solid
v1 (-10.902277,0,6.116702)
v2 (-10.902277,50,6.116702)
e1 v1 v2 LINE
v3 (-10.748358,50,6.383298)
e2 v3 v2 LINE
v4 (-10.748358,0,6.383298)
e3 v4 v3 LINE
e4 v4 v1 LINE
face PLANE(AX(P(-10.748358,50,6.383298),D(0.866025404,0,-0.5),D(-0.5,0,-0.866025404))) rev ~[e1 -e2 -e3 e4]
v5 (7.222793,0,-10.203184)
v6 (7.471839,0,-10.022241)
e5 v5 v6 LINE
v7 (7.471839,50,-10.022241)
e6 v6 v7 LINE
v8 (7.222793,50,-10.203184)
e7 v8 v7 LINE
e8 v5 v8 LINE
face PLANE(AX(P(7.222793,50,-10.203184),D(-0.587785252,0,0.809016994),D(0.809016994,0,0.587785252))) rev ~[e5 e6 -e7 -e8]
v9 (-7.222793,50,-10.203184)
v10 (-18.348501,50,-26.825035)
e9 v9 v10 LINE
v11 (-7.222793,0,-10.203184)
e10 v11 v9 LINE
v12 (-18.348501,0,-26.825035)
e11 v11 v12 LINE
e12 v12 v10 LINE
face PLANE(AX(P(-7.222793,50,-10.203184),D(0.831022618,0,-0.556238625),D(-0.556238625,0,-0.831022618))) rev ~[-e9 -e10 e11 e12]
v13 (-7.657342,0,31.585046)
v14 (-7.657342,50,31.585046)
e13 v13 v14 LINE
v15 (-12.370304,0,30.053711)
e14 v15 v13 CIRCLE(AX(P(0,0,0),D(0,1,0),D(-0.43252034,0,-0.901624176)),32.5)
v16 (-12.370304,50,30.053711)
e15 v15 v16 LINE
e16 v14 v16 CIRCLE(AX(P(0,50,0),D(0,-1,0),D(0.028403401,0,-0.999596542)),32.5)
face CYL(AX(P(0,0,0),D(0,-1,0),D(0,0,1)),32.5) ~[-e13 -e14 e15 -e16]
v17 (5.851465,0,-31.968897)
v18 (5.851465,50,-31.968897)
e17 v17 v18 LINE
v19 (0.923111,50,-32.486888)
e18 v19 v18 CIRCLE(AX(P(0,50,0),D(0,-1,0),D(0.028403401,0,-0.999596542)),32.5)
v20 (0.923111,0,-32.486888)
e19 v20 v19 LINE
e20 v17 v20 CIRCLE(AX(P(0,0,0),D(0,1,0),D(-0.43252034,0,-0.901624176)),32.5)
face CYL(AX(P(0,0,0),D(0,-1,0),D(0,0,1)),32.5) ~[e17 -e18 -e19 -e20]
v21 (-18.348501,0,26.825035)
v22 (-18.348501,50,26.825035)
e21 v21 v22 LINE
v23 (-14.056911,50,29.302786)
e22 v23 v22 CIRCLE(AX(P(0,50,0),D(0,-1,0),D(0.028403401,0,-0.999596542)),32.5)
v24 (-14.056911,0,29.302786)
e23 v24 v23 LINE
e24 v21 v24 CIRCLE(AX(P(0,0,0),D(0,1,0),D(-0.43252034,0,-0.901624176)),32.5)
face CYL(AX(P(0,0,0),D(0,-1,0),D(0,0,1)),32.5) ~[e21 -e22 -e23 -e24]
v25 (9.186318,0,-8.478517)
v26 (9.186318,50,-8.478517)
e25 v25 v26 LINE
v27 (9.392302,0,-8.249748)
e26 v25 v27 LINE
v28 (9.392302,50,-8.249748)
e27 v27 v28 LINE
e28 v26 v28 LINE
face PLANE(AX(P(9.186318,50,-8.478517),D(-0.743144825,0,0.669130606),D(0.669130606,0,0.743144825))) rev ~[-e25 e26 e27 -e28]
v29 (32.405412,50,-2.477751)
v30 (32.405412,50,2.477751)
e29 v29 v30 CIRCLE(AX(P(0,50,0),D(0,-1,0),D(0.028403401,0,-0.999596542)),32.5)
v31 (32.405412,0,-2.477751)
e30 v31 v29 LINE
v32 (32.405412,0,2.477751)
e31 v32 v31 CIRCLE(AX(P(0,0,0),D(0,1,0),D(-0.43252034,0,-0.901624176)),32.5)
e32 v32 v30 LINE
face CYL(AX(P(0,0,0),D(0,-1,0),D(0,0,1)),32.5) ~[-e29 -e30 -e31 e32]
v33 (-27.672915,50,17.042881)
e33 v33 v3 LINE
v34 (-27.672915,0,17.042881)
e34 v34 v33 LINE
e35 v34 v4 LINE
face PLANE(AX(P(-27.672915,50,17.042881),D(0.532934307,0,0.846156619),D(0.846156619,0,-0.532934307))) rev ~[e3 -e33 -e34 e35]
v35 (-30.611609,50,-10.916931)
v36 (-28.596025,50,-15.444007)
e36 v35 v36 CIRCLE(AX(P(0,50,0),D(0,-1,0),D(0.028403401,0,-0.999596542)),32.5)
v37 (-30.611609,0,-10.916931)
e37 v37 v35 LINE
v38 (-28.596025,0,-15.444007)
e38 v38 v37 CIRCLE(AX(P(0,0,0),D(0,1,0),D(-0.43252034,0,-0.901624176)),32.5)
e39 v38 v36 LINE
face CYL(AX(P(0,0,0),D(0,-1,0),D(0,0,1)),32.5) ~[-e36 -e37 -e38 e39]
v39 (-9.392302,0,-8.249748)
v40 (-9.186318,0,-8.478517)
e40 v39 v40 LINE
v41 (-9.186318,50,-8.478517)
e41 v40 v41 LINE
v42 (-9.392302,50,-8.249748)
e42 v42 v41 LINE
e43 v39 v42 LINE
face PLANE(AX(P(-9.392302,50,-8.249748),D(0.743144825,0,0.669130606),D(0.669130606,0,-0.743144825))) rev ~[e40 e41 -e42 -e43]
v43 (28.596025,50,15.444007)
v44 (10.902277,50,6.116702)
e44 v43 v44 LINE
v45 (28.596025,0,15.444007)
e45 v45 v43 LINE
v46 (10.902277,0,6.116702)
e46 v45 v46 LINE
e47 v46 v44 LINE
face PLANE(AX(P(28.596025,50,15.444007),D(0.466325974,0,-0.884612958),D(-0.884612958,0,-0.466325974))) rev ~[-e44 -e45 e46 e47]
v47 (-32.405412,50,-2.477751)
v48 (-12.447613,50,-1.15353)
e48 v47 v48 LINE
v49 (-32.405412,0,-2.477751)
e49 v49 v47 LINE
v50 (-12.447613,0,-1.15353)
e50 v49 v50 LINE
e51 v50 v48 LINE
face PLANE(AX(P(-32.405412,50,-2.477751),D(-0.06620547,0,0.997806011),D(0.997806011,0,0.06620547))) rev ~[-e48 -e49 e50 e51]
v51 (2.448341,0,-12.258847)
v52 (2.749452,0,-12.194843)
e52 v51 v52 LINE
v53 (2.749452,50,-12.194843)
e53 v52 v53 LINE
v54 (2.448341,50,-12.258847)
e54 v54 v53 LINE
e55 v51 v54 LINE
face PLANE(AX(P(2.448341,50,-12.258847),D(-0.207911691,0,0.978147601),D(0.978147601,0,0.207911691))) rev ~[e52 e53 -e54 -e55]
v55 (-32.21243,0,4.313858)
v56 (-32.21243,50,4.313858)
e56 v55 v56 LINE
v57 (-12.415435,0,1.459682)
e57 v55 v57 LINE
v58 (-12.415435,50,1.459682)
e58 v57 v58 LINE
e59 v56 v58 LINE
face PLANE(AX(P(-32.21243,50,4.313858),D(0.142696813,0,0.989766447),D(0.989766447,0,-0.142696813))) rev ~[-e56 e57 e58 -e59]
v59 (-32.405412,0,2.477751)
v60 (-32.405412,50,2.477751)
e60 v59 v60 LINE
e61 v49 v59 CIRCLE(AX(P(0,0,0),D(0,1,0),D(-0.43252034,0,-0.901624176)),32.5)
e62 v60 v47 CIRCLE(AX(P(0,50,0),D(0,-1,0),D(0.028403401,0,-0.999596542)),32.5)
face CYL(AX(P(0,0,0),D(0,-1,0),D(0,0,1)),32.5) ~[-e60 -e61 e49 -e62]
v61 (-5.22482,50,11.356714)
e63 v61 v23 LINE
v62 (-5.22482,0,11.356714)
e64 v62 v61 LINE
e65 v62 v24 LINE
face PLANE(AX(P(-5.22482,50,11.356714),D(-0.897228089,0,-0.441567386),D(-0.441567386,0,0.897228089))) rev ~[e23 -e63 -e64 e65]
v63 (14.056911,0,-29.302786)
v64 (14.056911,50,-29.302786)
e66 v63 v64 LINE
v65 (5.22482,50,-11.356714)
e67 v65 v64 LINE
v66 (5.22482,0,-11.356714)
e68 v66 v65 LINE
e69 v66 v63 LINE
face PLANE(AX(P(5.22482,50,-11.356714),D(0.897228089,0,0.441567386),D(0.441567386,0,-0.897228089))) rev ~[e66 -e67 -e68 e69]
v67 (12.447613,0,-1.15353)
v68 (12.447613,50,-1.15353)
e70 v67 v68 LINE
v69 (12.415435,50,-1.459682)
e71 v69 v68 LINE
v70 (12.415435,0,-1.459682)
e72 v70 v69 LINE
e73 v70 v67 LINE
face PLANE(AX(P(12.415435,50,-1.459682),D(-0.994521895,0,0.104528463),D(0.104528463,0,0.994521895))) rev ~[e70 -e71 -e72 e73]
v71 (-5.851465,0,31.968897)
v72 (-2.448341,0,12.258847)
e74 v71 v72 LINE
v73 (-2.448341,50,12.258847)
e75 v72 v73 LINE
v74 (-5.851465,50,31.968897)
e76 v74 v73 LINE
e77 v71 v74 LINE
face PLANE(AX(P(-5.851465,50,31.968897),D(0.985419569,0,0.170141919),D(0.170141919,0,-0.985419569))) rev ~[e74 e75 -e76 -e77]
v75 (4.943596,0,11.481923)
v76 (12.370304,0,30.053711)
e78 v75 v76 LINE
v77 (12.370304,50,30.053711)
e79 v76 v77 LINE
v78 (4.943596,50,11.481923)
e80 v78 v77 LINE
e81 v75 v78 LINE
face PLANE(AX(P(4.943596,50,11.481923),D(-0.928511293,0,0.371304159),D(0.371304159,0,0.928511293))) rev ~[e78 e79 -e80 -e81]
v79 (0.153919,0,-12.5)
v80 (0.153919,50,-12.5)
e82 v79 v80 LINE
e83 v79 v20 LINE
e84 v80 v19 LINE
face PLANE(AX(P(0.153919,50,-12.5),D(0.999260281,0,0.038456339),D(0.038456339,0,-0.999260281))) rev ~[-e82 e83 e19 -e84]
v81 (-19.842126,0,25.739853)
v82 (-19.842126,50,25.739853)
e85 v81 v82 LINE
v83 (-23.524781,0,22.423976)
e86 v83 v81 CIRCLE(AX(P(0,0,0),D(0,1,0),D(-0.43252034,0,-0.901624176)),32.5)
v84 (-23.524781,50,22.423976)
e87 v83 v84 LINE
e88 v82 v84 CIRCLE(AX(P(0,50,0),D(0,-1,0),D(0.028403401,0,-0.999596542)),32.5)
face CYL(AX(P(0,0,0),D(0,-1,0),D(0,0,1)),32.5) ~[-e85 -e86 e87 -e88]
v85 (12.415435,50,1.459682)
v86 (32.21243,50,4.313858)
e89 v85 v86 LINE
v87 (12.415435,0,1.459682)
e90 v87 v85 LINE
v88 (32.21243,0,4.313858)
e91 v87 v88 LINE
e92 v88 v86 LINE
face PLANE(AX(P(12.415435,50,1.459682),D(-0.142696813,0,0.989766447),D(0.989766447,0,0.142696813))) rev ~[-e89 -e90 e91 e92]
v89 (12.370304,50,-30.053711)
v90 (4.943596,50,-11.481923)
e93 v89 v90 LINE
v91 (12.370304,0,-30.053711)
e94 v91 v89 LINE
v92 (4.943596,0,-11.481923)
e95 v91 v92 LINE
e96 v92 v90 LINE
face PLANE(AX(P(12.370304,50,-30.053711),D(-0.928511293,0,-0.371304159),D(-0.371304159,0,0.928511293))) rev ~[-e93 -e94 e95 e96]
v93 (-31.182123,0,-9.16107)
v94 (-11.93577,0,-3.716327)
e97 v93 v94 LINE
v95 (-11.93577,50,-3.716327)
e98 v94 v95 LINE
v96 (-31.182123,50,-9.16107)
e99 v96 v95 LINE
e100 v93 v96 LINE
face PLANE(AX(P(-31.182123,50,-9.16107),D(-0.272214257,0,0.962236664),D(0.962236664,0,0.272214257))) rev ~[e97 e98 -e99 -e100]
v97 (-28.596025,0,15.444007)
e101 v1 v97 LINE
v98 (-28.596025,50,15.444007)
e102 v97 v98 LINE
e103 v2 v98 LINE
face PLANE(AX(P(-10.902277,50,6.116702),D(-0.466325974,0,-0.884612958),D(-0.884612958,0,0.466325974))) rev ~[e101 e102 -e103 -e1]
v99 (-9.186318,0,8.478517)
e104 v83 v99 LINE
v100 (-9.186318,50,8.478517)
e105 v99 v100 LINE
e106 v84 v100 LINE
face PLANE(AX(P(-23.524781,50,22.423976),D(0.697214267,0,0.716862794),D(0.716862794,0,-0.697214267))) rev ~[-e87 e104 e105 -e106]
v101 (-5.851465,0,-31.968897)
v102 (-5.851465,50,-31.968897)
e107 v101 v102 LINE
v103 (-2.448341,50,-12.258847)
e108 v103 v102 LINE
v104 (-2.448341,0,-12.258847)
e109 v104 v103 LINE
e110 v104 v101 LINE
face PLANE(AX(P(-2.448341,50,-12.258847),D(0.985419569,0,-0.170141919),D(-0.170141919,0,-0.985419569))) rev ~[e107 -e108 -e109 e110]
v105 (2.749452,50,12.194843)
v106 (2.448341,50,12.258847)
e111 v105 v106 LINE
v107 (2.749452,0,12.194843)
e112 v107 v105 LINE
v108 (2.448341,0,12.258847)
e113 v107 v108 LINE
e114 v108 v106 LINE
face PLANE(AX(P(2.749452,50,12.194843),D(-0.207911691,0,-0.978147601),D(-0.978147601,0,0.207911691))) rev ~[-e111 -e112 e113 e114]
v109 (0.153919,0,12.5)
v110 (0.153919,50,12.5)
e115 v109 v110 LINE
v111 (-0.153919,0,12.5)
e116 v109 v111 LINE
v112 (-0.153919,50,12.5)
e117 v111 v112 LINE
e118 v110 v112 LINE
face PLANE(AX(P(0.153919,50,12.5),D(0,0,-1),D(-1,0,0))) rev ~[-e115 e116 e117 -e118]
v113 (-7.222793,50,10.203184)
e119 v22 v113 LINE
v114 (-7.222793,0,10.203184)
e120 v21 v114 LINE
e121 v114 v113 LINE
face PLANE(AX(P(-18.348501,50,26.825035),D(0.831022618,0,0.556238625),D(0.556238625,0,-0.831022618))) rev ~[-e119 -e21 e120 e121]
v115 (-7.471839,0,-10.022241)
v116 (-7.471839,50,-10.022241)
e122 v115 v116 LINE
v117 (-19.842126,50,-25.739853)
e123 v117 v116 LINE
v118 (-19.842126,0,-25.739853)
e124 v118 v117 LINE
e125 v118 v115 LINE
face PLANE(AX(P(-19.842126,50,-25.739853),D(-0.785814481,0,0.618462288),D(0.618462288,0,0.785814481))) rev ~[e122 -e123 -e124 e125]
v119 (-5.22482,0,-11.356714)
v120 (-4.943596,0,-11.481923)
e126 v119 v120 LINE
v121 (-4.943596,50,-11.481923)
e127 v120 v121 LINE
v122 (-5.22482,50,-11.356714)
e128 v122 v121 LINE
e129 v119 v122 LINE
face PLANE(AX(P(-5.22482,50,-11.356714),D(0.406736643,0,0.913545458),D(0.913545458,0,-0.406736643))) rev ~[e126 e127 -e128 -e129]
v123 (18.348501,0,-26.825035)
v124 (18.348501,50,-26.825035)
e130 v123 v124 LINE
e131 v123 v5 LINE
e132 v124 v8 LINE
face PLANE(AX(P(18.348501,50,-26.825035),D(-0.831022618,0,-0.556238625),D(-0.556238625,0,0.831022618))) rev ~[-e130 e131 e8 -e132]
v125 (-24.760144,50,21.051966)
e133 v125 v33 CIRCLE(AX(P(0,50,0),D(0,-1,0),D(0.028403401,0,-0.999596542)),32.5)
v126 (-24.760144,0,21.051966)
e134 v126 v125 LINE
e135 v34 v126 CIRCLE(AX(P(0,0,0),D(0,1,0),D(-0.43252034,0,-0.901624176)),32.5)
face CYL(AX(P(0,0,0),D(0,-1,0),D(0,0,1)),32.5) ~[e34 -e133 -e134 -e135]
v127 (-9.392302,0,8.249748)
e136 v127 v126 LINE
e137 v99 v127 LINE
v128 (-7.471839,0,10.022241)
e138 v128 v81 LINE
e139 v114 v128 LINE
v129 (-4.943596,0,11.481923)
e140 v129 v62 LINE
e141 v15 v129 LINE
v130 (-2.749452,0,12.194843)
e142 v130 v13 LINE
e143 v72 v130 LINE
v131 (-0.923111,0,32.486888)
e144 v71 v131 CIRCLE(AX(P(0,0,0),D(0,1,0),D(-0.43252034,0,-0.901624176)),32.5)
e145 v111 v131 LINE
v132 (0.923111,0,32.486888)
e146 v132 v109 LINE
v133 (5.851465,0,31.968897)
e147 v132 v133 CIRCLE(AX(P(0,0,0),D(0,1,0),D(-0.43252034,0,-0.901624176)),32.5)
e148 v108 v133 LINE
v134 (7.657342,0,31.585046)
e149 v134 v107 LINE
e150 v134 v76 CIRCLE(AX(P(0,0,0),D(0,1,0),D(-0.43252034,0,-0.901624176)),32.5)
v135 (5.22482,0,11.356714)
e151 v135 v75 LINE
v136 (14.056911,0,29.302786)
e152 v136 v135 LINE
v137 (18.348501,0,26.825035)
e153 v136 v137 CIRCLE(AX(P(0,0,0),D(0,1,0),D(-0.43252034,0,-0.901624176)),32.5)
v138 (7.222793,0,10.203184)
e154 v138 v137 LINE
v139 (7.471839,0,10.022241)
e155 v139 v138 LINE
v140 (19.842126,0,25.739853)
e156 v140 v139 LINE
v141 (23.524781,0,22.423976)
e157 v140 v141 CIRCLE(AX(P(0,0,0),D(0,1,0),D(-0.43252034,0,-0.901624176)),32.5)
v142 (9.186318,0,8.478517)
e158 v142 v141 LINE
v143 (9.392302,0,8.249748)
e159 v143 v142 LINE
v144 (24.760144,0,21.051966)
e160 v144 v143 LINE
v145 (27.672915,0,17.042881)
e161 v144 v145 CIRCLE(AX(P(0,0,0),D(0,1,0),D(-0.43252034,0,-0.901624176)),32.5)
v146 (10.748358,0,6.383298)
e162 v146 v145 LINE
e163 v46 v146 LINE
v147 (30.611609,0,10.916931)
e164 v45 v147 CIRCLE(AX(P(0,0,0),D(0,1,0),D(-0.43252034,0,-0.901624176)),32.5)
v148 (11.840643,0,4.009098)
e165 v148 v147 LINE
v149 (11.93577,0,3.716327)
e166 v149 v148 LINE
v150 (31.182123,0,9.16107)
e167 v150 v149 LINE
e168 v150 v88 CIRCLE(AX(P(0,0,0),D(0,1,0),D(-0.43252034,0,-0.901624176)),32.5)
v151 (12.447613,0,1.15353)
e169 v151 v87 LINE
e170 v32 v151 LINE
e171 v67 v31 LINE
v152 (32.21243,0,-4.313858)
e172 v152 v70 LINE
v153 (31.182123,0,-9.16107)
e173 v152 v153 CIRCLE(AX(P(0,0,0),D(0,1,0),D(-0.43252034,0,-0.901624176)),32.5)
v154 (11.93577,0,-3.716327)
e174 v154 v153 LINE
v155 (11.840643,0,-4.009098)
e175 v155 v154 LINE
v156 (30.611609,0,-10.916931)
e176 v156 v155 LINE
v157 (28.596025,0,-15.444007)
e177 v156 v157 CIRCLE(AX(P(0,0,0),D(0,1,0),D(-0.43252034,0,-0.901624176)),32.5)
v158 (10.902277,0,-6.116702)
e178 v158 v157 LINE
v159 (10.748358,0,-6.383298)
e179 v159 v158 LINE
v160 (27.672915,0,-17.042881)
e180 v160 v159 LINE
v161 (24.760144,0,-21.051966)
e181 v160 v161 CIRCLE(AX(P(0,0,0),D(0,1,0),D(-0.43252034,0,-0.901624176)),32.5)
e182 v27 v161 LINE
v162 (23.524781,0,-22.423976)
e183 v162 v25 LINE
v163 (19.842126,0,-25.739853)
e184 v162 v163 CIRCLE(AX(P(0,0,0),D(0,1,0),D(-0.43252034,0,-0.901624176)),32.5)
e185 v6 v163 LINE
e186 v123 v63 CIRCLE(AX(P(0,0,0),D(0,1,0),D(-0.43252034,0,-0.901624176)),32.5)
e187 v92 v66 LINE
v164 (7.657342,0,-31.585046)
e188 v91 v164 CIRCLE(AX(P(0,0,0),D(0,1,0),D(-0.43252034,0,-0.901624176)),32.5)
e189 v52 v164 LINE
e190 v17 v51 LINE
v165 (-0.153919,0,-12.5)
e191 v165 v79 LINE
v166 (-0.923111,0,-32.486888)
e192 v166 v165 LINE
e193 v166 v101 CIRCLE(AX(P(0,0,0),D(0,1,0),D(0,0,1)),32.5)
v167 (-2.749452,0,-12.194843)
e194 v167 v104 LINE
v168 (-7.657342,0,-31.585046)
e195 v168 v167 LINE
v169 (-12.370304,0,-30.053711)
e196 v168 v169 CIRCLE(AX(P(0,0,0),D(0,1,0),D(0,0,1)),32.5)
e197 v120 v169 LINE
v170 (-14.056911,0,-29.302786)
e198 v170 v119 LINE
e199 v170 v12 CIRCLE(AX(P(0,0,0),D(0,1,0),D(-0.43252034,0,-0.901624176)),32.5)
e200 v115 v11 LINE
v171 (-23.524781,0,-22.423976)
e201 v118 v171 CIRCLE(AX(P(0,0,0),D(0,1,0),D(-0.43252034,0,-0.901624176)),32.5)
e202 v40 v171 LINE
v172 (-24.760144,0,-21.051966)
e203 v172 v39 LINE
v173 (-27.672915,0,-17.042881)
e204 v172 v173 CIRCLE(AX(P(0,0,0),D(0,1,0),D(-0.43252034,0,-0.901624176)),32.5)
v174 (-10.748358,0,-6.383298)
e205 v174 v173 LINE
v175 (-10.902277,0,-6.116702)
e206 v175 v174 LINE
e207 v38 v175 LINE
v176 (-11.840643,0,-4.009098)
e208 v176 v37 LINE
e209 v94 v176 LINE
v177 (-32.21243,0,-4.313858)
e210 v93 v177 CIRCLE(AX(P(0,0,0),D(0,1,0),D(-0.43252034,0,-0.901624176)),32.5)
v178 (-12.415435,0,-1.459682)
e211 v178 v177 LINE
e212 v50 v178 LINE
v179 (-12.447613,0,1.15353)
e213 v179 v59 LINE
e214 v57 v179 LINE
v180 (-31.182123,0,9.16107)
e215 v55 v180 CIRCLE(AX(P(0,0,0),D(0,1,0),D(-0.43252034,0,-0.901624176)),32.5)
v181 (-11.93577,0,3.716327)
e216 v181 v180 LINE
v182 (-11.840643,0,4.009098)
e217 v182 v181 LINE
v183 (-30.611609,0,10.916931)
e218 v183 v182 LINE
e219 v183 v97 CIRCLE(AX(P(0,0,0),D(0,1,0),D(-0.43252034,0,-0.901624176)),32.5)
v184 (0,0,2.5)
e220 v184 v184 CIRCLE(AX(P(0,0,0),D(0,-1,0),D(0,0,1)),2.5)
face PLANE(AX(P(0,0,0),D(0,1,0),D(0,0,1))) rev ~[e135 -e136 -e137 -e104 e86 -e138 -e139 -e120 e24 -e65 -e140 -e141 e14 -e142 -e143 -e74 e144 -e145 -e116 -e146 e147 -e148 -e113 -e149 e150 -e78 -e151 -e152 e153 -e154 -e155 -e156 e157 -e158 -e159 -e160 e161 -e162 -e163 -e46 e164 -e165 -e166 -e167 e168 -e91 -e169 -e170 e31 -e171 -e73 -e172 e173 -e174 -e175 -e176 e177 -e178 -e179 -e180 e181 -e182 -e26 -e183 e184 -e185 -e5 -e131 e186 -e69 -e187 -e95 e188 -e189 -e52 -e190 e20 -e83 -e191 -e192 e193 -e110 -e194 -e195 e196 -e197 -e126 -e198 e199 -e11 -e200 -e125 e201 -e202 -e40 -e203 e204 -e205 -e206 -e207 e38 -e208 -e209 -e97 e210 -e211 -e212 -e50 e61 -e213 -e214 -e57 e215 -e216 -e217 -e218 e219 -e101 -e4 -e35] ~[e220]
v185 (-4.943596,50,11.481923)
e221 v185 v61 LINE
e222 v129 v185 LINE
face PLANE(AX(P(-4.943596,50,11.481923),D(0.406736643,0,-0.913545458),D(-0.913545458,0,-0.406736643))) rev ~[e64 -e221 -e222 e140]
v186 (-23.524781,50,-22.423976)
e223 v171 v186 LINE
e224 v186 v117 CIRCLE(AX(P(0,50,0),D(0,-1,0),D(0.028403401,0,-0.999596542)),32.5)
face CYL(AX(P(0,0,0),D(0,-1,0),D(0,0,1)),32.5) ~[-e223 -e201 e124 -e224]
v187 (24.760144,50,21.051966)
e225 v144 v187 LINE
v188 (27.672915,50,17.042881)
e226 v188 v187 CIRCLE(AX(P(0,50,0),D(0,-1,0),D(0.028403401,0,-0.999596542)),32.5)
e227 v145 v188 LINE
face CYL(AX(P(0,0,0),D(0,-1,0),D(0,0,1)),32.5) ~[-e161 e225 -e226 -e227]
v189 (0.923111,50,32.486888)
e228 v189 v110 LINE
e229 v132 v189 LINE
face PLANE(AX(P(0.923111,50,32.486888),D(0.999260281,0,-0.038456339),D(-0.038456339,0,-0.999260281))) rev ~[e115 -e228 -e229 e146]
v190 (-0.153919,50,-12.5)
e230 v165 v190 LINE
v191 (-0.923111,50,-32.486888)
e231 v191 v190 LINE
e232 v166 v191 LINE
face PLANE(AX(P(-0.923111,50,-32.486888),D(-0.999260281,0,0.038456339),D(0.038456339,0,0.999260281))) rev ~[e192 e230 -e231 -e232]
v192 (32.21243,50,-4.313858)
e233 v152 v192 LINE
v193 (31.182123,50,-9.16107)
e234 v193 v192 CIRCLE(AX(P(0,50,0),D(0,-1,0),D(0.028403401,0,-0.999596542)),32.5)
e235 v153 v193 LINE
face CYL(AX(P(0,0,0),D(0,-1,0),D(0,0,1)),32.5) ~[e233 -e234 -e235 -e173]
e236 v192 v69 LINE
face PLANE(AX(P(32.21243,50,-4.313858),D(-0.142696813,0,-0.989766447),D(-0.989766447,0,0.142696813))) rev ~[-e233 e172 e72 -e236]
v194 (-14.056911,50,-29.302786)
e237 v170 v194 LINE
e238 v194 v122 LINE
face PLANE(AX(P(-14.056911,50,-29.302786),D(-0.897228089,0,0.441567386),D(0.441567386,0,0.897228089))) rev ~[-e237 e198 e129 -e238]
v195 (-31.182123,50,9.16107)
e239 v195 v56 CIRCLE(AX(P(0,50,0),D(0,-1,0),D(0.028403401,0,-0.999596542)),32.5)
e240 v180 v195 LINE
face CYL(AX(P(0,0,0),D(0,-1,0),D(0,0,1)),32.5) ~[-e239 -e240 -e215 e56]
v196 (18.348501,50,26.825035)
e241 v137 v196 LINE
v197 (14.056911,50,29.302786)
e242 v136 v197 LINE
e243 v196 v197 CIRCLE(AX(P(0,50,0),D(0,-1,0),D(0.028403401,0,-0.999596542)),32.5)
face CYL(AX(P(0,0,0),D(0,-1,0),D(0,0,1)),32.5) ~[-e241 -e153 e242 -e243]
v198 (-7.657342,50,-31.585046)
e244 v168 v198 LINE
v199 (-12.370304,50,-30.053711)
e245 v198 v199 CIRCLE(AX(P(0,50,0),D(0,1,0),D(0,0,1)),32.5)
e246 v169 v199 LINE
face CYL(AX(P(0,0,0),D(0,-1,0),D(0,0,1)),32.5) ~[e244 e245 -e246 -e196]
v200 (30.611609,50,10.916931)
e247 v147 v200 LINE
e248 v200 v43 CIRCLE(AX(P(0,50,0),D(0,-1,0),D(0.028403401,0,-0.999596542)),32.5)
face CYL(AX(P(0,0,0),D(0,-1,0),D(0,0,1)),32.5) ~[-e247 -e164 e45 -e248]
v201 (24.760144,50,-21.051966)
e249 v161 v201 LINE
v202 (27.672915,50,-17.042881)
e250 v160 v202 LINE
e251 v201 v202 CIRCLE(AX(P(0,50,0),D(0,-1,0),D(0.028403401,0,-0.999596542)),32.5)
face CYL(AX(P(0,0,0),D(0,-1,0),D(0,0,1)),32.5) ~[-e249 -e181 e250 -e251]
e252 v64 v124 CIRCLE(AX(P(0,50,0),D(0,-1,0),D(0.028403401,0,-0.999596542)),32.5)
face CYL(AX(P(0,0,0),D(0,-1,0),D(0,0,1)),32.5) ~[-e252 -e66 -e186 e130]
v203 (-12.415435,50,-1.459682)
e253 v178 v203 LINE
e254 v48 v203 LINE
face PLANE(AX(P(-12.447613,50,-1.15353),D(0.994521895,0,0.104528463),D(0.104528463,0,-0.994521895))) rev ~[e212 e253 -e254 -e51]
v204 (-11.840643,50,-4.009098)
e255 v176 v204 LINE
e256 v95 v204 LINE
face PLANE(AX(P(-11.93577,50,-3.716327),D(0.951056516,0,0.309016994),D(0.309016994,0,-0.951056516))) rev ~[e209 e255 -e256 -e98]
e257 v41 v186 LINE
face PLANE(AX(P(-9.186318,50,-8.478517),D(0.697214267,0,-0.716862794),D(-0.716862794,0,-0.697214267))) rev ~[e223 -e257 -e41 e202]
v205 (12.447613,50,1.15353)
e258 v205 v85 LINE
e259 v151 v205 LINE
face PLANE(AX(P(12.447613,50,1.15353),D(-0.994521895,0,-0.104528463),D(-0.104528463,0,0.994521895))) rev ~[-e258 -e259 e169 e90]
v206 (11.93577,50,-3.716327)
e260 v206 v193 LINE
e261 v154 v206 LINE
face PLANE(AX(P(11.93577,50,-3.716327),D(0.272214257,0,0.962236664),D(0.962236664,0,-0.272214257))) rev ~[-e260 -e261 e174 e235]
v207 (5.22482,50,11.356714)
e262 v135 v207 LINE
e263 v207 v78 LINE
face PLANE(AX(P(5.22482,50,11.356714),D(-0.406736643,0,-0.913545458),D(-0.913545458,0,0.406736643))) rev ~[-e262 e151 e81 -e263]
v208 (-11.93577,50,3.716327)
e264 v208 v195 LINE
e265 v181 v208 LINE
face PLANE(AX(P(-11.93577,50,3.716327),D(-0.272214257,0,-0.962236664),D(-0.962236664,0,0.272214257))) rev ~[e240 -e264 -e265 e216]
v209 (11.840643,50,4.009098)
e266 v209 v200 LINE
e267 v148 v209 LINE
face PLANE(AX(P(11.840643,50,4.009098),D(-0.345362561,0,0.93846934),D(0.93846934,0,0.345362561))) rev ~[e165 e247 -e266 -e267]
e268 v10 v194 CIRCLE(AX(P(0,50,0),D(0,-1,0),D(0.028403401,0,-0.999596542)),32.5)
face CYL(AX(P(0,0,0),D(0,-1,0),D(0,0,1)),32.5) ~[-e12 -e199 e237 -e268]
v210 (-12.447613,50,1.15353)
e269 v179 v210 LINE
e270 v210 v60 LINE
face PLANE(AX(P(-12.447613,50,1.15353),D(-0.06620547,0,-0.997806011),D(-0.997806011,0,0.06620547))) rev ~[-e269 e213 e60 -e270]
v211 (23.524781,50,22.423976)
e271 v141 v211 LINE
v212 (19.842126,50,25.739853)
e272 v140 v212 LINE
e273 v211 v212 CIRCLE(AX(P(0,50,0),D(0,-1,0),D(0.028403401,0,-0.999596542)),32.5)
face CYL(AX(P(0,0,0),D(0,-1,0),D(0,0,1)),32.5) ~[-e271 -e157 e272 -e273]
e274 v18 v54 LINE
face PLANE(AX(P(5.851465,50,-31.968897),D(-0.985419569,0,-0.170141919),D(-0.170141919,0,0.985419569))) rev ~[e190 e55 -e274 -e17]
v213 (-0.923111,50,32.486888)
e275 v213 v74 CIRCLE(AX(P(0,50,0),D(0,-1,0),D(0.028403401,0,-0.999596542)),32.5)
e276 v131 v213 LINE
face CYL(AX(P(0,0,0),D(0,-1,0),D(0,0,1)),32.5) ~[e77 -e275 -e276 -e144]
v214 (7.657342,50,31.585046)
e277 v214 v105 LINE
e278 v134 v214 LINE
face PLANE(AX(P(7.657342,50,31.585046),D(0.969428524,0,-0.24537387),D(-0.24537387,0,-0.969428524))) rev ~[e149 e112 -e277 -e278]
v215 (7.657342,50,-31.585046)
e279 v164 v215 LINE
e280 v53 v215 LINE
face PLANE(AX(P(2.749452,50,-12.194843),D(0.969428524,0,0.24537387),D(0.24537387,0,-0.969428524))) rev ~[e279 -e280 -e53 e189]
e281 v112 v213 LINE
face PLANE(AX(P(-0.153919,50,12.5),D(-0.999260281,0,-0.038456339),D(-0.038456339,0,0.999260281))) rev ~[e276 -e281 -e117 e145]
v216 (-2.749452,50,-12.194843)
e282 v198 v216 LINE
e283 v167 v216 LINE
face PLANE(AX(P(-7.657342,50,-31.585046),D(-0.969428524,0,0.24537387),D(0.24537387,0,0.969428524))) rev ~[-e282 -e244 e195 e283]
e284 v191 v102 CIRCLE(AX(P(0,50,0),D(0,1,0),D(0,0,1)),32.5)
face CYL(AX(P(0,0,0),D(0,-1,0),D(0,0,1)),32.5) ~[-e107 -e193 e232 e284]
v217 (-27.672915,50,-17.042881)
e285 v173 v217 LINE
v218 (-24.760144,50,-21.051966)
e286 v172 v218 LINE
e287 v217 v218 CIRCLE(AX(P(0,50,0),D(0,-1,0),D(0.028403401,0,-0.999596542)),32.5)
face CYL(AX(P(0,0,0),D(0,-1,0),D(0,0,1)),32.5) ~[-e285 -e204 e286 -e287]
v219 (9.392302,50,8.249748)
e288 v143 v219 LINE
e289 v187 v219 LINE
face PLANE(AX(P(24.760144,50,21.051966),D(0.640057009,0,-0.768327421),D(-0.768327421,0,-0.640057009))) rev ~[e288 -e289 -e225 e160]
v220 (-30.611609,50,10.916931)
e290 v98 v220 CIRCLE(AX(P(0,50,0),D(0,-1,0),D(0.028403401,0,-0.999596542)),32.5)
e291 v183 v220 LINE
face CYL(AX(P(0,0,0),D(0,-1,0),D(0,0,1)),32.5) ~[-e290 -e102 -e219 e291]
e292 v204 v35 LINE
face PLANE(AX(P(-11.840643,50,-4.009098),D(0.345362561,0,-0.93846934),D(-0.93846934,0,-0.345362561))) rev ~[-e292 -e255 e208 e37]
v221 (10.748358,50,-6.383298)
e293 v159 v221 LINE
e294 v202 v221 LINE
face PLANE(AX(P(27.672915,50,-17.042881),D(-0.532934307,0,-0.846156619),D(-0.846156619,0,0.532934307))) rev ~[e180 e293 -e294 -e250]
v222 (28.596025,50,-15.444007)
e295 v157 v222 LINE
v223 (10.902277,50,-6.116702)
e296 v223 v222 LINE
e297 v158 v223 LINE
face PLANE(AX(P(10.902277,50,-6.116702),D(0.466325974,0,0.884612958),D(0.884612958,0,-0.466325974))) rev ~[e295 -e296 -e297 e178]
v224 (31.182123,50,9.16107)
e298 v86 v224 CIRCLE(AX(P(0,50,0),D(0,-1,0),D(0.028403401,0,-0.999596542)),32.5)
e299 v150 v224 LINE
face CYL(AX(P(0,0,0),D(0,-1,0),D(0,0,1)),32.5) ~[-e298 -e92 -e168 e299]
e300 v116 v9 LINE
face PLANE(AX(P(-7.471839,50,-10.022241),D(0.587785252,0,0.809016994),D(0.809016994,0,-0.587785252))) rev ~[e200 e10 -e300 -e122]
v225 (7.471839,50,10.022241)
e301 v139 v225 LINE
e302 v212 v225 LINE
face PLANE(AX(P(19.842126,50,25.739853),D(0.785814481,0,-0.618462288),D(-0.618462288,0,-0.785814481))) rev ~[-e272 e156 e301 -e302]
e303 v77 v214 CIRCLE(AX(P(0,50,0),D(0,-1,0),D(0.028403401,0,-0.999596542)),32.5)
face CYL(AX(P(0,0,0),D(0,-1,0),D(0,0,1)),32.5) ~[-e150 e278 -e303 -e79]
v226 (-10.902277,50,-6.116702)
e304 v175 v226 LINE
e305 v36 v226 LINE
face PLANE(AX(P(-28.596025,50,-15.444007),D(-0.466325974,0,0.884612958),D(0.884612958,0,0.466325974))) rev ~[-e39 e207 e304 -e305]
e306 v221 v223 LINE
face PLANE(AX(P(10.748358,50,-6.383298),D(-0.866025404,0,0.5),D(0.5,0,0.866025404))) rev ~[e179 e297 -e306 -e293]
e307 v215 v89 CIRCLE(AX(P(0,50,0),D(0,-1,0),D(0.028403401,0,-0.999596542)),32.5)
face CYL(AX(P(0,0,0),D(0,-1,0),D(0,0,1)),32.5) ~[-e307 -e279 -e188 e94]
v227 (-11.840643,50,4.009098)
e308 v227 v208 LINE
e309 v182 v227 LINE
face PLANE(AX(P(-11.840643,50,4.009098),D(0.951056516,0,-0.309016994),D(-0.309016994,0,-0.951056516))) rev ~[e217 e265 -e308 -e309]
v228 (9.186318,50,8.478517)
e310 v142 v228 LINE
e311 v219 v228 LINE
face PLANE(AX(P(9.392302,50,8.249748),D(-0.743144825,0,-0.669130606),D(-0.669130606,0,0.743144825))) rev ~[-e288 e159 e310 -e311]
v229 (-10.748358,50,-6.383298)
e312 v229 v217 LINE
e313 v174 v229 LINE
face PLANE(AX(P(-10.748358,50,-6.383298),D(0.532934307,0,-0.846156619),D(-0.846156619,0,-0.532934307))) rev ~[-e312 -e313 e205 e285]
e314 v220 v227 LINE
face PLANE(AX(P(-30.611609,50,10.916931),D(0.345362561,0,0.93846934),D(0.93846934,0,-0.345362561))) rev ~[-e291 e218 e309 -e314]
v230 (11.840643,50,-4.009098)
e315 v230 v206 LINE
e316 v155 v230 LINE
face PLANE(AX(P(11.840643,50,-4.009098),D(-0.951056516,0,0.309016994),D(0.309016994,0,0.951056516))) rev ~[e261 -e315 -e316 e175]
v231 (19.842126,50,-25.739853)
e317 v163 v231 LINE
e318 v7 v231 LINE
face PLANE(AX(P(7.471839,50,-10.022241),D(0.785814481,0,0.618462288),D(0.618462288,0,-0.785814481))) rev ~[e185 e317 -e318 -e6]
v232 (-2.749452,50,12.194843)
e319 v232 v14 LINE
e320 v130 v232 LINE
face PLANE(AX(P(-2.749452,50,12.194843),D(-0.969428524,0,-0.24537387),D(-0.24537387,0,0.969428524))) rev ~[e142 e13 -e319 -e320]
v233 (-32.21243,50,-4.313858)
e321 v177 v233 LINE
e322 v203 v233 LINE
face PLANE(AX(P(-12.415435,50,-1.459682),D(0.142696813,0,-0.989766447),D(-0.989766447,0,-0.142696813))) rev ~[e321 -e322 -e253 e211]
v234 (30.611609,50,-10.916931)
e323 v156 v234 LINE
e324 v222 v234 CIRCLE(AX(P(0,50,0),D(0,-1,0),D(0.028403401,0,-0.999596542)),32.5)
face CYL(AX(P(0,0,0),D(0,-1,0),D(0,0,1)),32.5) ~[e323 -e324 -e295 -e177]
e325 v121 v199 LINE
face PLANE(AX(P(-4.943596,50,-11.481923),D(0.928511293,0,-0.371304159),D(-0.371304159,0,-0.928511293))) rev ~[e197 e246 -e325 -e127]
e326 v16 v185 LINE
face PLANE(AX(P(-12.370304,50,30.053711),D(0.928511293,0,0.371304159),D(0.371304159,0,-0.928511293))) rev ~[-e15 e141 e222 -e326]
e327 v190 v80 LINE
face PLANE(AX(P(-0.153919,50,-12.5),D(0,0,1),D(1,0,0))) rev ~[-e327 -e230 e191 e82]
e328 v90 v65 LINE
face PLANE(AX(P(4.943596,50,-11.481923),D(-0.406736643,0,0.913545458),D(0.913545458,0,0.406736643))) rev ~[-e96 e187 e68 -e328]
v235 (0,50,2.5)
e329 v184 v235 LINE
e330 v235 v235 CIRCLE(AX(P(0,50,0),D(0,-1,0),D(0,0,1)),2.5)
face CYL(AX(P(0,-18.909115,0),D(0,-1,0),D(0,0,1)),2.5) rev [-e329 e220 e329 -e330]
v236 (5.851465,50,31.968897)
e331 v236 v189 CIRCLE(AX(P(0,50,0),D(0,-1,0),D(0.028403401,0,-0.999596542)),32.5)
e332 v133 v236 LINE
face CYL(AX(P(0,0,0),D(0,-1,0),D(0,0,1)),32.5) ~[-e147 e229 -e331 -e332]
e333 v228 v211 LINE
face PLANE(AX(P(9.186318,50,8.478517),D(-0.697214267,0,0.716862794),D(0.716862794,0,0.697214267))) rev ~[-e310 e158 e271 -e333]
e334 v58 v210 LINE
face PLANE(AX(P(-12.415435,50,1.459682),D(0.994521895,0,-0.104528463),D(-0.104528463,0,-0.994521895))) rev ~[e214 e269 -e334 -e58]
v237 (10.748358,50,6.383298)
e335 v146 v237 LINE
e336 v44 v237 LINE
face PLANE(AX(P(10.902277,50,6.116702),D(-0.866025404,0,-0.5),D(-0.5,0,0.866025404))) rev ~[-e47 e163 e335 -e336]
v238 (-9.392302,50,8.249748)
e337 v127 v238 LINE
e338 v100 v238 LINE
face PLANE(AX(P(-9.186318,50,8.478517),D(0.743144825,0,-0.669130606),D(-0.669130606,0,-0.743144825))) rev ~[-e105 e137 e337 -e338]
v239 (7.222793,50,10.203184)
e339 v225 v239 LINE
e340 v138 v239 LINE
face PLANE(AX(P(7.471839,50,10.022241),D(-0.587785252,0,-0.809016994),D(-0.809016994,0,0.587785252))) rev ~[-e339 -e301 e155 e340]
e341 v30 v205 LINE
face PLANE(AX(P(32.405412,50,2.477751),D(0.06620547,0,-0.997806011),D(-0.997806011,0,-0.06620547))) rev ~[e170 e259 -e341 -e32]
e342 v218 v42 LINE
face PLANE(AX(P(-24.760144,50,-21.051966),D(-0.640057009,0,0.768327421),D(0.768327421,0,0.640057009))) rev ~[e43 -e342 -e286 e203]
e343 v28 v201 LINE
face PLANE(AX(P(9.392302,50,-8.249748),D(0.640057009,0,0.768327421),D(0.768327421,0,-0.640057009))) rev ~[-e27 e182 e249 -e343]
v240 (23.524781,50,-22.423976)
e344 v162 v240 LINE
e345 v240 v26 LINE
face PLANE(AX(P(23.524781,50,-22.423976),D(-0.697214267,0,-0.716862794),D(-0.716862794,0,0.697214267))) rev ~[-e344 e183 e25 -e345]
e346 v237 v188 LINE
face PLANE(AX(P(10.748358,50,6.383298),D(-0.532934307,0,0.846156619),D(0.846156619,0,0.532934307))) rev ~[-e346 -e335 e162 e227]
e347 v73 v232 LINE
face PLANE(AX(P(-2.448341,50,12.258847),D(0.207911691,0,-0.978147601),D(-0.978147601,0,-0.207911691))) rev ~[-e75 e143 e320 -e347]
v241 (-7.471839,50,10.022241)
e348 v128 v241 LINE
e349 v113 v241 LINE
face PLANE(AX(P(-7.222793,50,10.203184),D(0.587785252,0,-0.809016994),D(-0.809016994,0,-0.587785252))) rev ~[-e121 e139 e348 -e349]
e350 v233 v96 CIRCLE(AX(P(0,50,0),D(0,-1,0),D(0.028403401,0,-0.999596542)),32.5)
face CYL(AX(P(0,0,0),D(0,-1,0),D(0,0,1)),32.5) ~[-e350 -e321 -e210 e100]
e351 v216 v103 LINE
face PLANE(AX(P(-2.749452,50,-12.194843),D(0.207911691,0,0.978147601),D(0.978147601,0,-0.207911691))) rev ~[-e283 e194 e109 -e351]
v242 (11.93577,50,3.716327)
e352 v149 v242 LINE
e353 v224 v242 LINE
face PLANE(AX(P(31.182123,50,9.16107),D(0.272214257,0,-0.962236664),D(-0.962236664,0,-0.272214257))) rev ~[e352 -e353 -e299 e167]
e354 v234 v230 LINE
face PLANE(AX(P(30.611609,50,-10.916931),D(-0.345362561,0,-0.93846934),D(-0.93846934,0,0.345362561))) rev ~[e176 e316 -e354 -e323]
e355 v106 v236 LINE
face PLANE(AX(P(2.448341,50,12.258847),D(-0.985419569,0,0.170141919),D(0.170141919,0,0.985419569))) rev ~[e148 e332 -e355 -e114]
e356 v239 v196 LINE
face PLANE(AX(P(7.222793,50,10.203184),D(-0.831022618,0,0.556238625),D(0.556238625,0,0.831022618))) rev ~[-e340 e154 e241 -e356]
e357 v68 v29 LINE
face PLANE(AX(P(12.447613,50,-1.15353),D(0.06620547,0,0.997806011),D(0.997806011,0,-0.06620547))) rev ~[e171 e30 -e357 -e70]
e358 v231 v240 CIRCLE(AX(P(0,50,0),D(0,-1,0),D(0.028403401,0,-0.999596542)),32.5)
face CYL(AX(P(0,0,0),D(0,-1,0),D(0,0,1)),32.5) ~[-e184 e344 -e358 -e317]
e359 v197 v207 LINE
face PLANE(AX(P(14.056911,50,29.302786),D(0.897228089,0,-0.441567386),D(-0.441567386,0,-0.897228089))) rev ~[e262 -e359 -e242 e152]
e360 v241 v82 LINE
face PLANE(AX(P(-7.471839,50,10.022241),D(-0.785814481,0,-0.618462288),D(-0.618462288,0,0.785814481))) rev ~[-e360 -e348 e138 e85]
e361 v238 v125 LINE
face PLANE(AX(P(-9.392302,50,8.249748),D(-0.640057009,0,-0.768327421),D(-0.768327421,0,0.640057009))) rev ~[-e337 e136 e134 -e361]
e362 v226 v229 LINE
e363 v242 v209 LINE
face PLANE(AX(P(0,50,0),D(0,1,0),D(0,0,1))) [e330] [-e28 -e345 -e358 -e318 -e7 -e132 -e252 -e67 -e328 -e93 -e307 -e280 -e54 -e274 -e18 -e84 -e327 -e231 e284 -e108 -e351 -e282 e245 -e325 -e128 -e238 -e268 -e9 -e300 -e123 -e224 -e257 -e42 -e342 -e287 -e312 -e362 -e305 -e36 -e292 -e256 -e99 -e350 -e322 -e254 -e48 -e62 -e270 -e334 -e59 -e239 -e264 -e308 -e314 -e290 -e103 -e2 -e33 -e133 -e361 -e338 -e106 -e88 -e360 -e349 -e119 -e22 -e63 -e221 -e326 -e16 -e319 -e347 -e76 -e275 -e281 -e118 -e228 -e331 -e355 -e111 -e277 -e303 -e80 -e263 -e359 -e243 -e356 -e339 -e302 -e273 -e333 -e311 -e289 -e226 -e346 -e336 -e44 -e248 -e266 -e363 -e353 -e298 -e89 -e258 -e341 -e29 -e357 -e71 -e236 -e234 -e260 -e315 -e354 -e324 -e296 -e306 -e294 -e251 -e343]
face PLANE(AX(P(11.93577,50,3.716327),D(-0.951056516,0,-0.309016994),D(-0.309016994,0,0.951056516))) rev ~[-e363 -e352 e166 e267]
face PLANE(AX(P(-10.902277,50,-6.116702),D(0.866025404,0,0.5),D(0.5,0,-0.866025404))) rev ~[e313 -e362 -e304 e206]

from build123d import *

# Parameters (mm, degrees)
SKETCH1_R               = 32.5
BOSS_EXTRUDE1_DEPTH     = 50
CUT_EXTRUDE1_DEPTH      = 68.915388536
CIRPATTERN1_COUNT       = 30
CUT_EXTRUDE2_DEPTH      = 68.909114756
CUT_EXTRUDE2_DEPTH_BACK = 68.909114756
SKETCH3_R               = 2.5


with BuildPart() as part:
    # Sketch1 → Boss-Extrude1 (new body)
    with BuildSketch(Plane(origin=(0, 0, 0), x_dir=(1, 0, 0), z_dir=(0, 1, 0))):
        with Locations(Location((0, 0, 0), (0, 0, 270))):
            Circle(SKETCH1_R)
    extrude(amount=BOSS_EXTRUDE1_DEPTH)

    # Sketch2 → Cut-Extrude1 (cut, symmetric)
    with BuildSketch(Plane(origin=(0, 50, 0), x_dir=(1, 0, 0), z_dir=(0, 1, 0))):
        Polygon((-6.928301674, 188.527455376), (-0.923110544, 32.486887615), (-0.153919032, 12.5), (0.153919032, 12.5), (0.923110544, 32.486887615), (6.928301674, 188.527455376), (6.928301674, 500.839614011), (-6.928301674, 500.839614011), align=None)
    cut_extrude1 = extrude(amount=CUT_EXTRUDE1_DEPTH, both=True, mode=Mode.SUBTRACT)

    # CirPattern1: Cut-Extrude1 ×30 about axis
    cirpattern1_axis = Axis((0, 50, 0), (0, 1, 0))
    for i in range(1, CIRPATTERN1_COUNT):
        add(cut_extrude1.rotate(cirpattern1_axis, i * 360 / CIRPATTERN1_COUNT), mode=Mode.SUBTRACT)

    # Sketch3 → Cut-Extrude2 (cut, two sides: drawn at the far end of the back side and taken through both)
    with BuildSketch(Plane(origin=(0, 50, 0), x_dir=(1, 0, 0), z_dir=(0, 1, 0)).offset(-CUT_EXTRUDE2_DEPTH_BACK)):
        with Locations(Location((0, 0, 0), (0, 0, 270))):
            Circle(SKETCH3_R)
    extrude(amount=CUT_EXTRUDE2_DEPTH + CUT_EXTRUDE2_DEPTH_BACK, mode=Mode.SUBTRACT)


solid = part.part
